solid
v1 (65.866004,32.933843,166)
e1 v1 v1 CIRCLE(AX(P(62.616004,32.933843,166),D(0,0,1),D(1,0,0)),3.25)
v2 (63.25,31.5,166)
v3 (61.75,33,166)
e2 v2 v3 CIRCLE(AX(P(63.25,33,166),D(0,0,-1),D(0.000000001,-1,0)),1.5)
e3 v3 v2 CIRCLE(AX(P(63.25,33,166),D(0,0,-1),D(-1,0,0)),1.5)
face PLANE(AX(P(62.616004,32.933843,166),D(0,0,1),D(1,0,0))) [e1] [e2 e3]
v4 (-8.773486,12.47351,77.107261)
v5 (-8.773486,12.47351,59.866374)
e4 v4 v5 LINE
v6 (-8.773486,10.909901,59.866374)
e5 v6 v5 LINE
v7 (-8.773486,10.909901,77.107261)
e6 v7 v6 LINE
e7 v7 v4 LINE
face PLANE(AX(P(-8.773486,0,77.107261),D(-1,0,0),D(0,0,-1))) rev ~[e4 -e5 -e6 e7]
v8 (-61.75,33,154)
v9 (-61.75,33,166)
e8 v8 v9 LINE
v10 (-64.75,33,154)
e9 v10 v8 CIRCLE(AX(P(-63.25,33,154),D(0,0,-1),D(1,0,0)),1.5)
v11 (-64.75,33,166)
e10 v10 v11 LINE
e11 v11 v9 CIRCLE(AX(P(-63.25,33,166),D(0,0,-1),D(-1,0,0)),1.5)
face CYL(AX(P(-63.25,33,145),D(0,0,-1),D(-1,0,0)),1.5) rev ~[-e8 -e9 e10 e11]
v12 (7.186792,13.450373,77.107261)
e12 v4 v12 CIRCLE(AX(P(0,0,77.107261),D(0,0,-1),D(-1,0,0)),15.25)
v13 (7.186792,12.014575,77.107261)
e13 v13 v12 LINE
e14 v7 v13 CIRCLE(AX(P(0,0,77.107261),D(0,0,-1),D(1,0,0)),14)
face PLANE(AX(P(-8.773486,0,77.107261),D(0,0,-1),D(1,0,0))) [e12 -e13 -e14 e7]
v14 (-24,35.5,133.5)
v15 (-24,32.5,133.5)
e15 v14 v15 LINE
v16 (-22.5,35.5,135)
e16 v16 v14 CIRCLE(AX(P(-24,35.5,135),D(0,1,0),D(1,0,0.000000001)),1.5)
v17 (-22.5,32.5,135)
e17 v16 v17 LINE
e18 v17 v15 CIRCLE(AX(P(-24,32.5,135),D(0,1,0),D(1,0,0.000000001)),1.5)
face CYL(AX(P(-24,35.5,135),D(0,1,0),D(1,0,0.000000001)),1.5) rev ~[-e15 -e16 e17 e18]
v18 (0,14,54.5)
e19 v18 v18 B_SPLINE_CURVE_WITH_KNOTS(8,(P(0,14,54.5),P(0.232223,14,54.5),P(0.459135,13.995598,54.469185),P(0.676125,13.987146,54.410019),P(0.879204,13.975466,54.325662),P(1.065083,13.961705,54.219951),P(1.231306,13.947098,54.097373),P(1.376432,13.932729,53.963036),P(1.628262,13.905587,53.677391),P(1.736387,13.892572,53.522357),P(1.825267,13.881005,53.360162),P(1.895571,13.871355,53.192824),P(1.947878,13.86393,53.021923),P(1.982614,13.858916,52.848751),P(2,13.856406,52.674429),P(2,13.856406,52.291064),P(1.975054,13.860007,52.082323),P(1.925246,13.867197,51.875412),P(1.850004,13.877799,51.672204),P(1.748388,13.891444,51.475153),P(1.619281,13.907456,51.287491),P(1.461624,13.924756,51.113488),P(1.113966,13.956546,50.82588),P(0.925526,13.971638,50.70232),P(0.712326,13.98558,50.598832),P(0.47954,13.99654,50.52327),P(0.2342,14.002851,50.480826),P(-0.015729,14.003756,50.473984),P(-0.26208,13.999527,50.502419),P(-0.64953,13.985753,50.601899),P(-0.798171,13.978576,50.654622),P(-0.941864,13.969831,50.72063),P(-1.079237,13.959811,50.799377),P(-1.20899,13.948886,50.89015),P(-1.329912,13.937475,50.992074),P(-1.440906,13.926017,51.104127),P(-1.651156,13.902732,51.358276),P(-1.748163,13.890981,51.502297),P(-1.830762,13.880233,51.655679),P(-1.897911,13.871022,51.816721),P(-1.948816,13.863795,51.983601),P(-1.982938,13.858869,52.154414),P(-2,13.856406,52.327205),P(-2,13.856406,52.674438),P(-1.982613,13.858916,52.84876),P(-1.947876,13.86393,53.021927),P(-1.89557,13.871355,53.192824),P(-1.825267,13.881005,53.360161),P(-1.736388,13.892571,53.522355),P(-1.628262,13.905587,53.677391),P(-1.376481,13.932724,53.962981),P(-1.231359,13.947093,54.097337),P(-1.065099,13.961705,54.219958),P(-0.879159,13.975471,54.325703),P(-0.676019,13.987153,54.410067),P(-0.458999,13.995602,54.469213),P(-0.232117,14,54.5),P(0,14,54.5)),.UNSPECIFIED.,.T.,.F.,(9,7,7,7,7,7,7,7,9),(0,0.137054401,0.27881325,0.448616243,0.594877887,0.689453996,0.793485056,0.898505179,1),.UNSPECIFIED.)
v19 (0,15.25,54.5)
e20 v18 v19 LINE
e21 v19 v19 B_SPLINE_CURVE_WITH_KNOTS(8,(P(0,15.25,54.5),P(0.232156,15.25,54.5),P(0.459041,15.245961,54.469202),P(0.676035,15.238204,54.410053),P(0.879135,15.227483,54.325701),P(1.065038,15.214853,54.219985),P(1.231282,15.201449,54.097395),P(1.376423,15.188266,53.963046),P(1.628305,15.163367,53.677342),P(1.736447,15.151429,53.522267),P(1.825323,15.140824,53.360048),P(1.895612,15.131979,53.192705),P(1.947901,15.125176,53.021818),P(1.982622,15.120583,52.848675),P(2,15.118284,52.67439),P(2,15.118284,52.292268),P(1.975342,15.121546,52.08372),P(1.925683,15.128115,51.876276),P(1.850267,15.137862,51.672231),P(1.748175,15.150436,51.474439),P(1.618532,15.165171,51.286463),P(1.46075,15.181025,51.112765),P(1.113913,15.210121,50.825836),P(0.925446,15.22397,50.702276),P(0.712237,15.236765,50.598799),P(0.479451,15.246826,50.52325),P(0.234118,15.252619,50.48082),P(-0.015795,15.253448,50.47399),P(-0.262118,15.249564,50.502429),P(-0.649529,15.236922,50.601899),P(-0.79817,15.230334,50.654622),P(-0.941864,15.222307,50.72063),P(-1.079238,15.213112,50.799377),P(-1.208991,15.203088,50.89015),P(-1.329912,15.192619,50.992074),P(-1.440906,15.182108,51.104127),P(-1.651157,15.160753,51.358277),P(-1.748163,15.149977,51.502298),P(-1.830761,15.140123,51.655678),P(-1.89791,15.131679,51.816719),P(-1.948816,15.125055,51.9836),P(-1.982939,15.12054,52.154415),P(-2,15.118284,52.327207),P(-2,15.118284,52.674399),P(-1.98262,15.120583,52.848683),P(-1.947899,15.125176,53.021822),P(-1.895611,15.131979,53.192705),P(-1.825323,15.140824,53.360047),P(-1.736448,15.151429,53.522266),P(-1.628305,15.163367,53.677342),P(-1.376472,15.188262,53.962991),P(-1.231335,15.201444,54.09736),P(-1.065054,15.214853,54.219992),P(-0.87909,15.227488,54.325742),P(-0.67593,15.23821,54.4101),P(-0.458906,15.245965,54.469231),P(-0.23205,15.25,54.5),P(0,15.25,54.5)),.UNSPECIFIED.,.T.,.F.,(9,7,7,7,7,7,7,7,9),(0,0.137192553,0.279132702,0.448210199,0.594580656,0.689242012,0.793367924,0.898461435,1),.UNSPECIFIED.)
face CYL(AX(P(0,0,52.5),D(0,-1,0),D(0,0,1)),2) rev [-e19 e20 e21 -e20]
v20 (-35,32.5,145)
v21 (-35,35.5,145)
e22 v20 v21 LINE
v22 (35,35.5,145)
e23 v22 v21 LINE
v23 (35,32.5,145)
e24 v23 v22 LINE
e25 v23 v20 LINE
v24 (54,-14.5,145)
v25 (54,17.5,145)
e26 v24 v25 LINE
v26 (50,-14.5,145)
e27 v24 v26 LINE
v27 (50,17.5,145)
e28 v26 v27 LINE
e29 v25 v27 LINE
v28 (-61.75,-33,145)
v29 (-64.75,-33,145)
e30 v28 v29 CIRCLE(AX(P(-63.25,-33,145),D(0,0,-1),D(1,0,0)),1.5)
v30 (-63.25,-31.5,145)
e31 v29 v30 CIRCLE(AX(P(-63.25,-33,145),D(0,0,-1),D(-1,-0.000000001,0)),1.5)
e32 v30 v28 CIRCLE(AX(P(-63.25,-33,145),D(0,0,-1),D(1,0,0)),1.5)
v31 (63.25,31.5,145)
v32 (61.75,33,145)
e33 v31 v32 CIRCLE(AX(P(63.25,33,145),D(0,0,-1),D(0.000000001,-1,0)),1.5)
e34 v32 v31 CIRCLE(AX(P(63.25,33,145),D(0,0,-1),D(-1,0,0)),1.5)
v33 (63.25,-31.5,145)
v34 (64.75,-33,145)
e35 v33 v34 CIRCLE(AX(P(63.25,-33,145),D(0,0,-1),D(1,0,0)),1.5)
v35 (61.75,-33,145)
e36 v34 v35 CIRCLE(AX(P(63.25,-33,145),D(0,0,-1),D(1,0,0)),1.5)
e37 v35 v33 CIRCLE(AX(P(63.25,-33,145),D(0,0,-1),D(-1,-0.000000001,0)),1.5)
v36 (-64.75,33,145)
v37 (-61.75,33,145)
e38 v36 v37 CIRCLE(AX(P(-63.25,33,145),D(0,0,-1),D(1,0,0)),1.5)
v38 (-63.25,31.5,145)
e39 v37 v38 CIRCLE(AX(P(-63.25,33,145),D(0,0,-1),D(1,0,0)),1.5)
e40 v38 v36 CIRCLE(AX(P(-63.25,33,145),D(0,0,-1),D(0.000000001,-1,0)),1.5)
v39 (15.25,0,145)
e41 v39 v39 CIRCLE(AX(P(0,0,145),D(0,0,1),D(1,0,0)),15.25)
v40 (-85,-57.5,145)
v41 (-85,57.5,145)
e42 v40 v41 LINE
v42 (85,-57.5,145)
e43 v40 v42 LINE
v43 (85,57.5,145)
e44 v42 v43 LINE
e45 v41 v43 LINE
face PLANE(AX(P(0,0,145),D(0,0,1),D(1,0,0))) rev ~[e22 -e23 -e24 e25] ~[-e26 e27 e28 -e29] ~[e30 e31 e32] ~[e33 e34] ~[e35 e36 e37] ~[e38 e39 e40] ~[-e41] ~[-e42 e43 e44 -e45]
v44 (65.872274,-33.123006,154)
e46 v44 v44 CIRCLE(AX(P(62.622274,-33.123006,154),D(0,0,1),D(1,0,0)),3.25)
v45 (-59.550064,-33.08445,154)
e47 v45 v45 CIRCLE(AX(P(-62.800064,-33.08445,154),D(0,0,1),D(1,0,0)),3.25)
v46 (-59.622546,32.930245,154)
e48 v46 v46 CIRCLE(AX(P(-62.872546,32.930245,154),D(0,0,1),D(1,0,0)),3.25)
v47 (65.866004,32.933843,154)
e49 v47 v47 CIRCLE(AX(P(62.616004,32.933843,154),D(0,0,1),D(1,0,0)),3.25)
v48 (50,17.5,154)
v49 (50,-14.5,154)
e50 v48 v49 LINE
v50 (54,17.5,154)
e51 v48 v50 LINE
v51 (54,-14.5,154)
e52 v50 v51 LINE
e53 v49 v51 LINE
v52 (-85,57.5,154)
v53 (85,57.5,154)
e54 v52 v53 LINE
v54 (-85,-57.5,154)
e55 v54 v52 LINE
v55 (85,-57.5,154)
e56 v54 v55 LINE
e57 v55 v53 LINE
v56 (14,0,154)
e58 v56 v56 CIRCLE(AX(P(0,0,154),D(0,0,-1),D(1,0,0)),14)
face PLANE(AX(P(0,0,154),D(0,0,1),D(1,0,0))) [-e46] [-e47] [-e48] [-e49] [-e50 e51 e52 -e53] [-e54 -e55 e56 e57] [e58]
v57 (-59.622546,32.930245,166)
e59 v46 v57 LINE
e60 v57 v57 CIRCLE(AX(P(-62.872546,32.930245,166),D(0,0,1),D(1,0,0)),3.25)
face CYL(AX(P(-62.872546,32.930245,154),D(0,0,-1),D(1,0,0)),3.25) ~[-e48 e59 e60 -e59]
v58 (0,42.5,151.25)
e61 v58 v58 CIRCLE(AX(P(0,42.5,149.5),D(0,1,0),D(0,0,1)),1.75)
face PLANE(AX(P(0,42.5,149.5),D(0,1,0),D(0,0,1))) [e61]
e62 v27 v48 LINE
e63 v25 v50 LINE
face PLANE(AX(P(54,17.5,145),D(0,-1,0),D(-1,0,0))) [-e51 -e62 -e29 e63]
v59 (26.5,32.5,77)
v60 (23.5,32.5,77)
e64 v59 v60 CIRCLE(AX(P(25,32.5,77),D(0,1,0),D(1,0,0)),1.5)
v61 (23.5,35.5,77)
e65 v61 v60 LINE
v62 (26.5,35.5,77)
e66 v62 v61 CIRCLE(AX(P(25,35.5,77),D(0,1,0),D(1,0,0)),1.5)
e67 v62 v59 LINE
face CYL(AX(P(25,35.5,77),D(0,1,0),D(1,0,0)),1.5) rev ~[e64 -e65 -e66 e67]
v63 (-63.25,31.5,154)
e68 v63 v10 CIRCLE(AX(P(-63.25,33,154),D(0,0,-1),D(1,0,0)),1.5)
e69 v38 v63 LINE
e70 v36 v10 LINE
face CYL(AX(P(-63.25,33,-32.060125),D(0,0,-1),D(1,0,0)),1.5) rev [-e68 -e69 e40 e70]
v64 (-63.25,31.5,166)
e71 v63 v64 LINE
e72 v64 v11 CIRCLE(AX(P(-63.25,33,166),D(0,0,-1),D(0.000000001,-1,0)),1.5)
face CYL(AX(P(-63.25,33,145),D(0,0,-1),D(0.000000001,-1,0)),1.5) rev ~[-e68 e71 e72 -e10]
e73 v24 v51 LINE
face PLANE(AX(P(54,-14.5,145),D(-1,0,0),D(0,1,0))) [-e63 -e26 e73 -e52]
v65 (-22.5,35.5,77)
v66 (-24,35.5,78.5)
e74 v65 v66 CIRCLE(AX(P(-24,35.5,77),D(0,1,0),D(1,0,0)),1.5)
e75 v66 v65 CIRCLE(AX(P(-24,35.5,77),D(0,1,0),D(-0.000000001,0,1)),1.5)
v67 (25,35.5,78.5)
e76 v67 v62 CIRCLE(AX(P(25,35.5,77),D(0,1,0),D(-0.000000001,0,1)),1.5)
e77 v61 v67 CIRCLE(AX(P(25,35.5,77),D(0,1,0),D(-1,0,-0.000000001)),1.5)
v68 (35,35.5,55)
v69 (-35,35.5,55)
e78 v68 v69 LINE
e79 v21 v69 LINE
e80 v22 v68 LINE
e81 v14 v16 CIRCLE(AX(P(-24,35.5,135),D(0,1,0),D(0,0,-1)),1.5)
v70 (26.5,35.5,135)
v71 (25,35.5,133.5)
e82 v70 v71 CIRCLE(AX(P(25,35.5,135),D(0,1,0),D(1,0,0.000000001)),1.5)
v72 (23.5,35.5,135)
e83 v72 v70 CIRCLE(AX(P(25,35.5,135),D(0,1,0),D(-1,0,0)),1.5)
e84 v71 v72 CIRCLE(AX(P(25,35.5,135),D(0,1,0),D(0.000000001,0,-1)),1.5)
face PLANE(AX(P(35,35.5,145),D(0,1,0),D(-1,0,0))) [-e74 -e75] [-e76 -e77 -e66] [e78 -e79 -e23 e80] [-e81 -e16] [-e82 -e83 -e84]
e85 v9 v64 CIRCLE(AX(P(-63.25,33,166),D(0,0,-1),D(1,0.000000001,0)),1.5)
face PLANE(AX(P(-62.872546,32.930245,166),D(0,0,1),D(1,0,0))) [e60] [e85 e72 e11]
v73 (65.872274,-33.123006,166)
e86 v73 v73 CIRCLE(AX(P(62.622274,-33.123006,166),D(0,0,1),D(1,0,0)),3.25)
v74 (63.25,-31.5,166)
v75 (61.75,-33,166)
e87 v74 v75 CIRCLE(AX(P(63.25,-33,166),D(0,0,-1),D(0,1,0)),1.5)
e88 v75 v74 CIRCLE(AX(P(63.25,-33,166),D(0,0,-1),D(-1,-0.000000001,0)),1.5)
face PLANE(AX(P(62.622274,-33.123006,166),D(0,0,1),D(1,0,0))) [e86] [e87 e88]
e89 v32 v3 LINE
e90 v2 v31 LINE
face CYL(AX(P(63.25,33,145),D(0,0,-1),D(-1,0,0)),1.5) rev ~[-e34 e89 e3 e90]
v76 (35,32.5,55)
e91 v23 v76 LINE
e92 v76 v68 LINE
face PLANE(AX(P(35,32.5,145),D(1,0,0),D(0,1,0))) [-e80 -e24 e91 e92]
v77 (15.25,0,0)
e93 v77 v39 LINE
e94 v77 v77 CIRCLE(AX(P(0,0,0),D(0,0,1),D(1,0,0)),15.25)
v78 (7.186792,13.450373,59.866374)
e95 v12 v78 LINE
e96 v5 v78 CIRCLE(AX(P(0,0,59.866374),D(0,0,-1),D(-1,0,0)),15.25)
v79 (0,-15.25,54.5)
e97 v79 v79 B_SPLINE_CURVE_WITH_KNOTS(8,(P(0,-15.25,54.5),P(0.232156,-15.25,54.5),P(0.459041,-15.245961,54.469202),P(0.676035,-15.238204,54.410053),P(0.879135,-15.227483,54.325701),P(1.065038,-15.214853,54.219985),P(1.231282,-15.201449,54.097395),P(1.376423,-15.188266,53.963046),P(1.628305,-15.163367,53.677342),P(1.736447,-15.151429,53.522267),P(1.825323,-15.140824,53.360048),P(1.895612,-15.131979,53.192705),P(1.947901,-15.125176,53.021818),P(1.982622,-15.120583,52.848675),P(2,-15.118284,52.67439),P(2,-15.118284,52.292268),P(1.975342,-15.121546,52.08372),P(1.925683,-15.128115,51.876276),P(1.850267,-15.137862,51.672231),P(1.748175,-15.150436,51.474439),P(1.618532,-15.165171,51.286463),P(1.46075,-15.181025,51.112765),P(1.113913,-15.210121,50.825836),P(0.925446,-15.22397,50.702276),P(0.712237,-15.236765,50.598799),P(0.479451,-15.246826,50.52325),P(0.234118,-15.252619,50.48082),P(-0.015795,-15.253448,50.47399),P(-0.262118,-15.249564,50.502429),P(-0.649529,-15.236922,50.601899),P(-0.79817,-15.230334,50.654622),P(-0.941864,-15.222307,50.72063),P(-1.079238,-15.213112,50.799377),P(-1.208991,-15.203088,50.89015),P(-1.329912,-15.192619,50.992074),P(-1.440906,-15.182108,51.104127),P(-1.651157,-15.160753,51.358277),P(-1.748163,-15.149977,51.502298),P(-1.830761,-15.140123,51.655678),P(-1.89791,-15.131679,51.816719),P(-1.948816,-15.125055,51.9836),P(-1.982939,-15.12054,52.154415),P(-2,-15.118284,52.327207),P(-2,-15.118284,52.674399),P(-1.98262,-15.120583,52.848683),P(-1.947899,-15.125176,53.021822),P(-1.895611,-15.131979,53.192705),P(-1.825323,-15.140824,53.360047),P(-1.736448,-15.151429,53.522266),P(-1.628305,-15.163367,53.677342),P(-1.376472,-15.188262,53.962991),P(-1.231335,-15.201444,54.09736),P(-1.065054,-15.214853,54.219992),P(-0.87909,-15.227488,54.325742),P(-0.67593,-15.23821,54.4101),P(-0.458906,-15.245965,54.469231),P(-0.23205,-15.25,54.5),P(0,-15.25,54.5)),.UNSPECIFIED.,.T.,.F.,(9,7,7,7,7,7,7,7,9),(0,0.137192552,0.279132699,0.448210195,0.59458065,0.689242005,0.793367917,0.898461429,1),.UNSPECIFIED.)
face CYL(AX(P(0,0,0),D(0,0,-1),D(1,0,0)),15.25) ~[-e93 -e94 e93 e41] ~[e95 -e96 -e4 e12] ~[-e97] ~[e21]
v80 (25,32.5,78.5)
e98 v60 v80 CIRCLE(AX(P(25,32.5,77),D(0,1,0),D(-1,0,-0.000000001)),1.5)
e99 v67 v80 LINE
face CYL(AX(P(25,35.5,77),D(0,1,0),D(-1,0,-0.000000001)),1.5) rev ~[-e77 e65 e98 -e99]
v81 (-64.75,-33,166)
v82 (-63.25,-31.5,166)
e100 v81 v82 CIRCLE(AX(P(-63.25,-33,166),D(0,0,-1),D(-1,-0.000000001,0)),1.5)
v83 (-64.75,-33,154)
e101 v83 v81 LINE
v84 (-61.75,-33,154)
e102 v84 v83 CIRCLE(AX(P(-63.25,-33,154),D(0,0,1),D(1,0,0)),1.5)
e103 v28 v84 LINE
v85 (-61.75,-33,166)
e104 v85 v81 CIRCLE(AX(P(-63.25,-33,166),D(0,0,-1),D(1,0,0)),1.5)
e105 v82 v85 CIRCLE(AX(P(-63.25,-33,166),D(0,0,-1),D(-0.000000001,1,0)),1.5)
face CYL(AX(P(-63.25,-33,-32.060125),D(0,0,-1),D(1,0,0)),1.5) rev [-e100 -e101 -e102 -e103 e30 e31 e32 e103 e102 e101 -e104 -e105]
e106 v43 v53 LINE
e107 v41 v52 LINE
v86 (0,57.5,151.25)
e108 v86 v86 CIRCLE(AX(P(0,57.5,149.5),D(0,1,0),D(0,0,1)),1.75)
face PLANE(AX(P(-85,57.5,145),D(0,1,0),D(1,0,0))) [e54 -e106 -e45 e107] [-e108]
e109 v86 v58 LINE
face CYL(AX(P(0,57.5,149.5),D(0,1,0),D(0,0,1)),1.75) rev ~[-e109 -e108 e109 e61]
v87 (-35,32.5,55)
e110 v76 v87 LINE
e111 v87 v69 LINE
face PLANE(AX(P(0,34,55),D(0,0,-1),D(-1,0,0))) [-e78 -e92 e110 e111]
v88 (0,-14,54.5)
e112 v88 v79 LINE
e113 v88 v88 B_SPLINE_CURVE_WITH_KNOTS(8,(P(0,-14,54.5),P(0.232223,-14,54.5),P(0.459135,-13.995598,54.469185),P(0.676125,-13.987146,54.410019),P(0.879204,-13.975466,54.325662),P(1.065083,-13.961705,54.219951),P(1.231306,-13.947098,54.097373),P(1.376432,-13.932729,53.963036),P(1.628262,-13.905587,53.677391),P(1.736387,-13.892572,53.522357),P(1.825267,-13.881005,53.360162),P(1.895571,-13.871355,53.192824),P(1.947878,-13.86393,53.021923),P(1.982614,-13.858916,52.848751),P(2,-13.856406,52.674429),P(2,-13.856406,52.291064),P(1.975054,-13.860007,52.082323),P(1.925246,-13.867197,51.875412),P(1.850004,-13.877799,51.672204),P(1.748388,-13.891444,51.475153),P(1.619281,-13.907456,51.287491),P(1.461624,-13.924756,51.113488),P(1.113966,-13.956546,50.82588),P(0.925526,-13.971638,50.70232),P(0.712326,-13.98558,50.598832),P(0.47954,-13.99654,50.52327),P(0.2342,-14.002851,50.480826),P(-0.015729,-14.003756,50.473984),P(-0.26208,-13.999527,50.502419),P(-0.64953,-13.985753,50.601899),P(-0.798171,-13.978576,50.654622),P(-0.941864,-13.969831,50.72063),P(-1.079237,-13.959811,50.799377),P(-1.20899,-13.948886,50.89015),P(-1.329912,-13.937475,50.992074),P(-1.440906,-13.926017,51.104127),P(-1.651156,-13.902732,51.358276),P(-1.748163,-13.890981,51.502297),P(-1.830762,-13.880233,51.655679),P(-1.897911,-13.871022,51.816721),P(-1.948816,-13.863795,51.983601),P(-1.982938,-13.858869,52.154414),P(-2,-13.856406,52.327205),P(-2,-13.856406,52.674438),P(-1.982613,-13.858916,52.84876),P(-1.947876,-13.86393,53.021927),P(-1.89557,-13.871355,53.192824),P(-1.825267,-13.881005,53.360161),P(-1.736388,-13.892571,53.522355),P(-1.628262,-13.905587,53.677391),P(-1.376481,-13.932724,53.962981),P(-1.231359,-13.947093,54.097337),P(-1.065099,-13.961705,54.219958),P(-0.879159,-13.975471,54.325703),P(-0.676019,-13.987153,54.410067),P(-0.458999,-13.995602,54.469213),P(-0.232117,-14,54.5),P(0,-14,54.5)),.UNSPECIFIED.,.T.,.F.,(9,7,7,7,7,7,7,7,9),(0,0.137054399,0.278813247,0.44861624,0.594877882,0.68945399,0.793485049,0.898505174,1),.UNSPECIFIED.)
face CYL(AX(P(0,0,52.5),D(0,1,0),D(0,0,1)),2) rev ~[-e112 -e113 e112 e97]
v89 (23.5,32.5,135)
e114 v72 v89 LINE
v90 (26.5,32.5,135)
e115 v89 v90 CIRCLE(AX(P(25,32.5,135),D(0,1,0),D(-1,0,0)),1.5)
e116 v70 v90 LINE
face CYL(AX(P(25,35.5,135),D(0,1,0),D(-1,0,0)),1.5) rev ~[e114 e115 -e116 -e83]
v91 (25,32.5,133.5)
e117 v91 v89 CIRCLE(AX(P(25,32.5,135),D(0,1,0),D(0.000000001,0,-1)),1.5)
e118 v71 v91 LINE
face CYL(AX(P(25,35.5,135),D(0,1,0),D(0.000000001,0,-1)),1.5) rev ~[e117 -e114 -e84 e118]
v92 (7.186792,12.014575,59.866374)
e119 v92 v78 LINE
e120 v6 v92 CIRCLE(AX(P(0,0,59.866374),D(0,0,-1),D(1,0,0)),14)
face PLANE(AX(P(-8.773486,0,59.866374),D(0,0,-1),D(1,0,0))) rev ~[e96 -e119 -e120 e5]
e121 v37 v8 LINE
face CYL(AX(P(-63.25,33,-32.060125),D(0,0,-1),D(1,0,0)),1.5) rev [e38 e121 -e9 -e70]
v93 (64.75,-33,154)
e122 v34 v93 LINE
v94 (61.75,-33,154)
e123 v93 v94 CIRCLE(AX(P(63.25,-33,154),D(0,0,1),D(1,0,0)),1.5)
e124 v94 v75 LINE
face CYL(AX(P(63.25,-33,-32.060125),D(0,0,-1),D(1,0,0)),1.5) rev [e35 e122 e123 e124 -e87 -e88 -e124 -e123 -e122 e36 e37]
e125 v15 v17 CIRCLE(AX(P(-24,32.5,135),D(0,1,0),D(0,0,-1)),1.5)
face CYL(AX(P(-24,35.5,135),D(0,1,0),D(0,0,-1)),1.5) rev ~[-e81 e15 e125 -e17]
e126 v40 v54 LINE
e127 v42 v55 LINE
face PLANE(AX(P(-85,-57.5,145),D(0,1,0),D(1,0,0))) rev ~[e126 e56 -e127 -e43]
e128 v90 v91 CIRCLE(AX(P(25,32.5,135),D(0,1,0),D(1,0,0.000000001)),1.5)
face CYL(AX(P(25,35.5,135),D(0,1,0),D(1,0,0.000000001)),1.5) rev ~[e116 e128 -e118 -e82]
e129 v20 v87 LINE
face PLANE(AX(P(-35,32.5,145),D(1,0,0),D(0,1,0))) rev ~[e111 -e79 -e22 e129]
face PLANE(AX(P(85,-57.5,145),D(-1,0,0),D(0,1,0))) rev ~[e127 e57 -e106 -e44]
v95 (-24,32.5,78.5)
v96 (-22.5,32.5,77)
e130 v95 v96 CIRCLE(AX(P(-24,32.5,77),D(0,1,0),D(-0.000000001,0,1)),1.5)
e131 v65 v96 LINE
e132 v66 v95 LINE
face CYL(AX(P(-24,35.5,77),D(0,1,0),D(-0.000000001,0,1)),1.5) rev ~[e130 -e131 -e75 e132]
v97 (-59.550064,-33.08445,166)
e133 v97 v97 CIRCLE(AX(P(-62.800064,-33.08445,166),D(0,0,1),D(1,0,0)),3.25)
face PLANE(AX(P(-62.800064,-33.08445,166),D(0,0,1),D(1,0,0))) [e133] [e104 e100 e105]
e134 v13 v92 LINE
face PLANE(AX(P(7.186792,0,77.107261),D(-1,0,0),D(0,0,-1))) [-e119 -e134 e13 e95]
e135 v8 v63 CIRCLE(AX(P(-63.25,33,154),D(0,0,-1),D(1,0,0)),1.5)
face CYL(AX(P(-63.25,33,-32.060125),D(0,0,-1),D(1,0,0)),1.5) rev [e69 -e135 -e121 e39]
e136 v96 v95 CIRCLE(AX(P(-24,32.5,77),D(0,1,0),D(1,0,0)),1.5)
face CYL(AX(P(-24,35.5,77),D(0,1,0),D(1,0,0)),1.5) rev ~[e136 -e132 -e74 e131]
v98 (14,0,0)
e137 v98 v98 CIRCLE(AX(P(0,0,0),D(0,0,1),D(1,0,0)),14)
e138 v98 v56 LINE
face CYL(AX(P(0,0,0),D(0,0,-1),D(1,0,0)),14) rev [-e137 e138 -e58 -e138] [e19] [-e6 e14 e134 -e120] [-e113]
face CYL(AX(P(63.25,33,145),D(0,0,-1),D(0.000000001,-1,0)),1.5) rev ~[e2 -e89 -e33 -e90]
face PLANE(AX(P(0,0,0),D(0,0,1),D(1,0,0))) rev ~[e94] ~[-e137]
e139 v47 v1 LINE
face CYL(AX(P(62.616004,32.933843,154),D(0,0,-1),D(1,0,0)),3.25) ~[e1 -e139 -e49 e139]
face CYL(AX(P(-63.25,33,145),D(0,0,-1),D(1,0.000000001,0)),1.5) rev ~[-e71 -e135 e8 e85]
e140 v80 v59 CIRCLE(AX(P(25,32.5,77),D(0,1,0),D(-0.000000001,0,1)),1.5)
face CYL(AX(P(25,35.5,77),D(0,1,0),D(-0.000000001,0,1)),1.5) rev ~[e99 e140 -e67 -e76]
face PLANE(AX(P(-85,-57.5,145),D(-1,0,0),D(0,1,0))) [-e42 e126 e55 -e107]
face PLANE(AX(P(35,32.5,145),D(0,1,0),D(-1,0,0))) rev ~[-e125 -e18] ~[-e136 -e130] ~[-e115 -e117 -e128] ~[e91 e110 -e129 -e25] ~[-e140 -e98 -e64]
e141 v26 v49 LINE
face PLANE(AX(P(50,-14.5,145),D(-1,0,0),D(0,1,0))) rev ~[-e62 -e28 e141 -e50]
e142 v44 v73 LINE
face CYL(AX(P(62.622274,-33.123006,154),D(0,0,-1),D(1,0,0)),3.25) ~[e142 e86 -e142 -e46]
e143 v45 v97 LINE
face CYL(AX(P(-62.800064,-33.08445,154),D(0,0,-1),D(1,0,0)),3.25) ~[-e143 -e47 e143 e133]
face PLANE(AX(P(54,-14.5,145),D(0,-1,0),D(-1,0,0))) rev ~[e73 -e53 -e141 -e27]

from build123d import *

# Parameters (mm, degrees)
ESQUISSE1_R                         = 15.25
ESQUISSE1_R_2                       = 13.5
BOSS_EXTRU_1_DEPTH                  = 145
ENL_V_MAT_EXTRU_1_REACH             = 148.595
ESQUISSE4_R                         = 2
ENL_V_MAT_EXTRU_1_DIRECTION_2_DEPTH = 147.595105648
ESQUISSE5_W                         = 170
ESQUISSE5_H                         = 115
BOSS_EXTRU_2_DEPTH                  = 9
ESQUISSE14_R                        = 14
ENL_V_MAT_EXTRU_2_DEPTH             = 186.060125365
ENL_V_MAT_EXTRU_3_DEPTH             = 186.060125448
ENL_V_MAT_EXTRU_3_DEPTH_BACK        = 186.060125448
ESQUISSE15_R                        = 1.5
ESQUISSE16_R                        = 1.75
ENL_V_MAT_EXTRU_4_DEPTH             = 15
ESQUISSE22_W                        = 70
ESQUISSE22_H                        = 3
BOSS_EXTRU_11_DEPTH                 = 90
ENL_V_MAT_EXTRU_6_DEPTH             = 90
ESQUISSE25_W                        = 4
ESQUISSE25_H                        = 32
ENL_V_MAT_EXTRU_7_DEPTH             = 90
ENL_V_MAT_EXTRU_8_REACH             = 187.06
ENL_V_MAT_EXTRU_8_END_RADIUS        = 15.25
ESQUISSE26_W                        = 15.960277927
ESQUISSE26_H                        = 17.240886996
ESQUISSE27_R                        = 3.25
BOSS_EXTRU_12_DEPTH                 = 12
ENL_V_MAT_EXTRU_9_DEPTH             = 178.640789317


with BuildPart() as part:
    # Esquisse1 → Boss.-Extru.1 (new body)
    with BuildSketch(Plane.XY):
        Circle(ESQUISSE1_R)
        Circle(ESQUISSE1_R_2, mode=Mode.SUBTRACT)
    extrude(amount=BOSS_EXTRU_1_DEPTH)

    # Esquisse4 → Enlèv. mat.-Extru.1 (cut, up to next)
    with BuildSketch(Plane(origin=(0, 0, 0), x_dir=(1, 0, 0), z_dir=(0, 1, 0)), mode=Mode.PRIVATE) as enl_v_mat_extru_1_sk1:
        with Locations(Location((0, -52.5, 0), (0, 0, 270))):
            Circle(ESQUISSE4_R)
    enl_v_mat_extru_1_tool1 = extrude(enl_v_mat_extru_1_sk1.sketch, amount=-ENL_V_MAT_EXTRU_1_REACH, mode=Mode.PRIVATE) & part.part
    add(enl_v_mat_extru_1_tool1.solids().sort_by_distance((0, 0, 52.5))[0], mode=Mode.SUBTRACT)

    # Esquisse4 → Enlèv. mat.-Extru.1 direction 2 (cut)
    with BuildSketch(Plane(origin=(0, 0, 0), x_dir=(1, 0, 0), z_dir=(0, 1, 0))):
        with Locations(Location((0, -52.5, 0), (0, 0, 270))):
            Circle(ESQUISSE4_R)
    extrude(amount=ENL_V_MAT_EXTRU_1_DIRECTION_2_DEPTH, mode=Mode.SUBTRACT)

    # Esquisse5 → Boss.-Extru.2 (add)
    with BuildSketch(Plane.XY.offset(145)):
        Rectangle(ESQUISSE5_W, ESQUISSE5_H)
    extrude(amount=BOSS_EXTRU_2_DEPTH)

    # Esquisse14 → Enlèv. mat.-Extru.2 (cut, through all)
    with BuildSketch(Plane.XY):
        Circle(ESQUISSE14_R)
    extrude(amount=ENL_V_MAT_EXTRU_2_DEPTH, mode=Mode.SUBTRACT)

    # Esquisse15 → Enlèv. mat.-Extru.3 (cut, two sides: drawn at the far end of the back side and taken through both)
    with BuildSketch(Plane.XY.offset(154).offset(-ENL_V_MAT_EXTRU_3_DEPTH_BACK)):
        with Locations((-63.25, 33)):
            Circle(ESQUISSE15_R)
        with Locations((63.25, 33)):
            Circle(ESQUISSE15_R)
        with Locations((63.25, -33)):
            Circle(ESQUISSE15_R)
        with Locations((-63.25, -33)):
            Circle(ESQUISSE15_R)
    extrude(amount=ENL_V_MAT_EXTRU_3_DEPTH + ENL_V_MAT_EXTRU_3_DEPTH_BACK, mode=Mode.SUBTRACT)

    # Esquisse16 → Enlèv. mat.-Extru.4 (cut)
    with BuildSketch(Plane(origin=(0, 57.5, 0), x_dir=(1, 0, 0), z_dir=(0, 1, 0))):
        with Locations(Location((0, -149.5, 0), (0, 0, 270))):
            Circle(ESQUISSE16_R)
    extrude(amount=-ENL_V_MAT_EXTRU_4_DEPTH, mode=Mode.SUBTRACT)

    # Esquisse22 → Boss.-Extru.11 (add)
    with BuildSketch(Plane(origin=(0, 0, 145), x_dir=(-1, 0, 0), z_dir=(0, 0, -1))):
        with Locations((0, 34)):
            Rectangle(ESQUISSE22_W, ESQUISSE22_H)
    extrude(amount=BOSS_EXTRU_11_DEPTH)

    # Esquisse23 → Enlèv. mat.-Extru.6 (cut)
    with BuildSketch(Plane(origin=(0, 35.5, 0), x_dir=(1, 0, 0), z_dir=(0, 1, 0))):
        with BuildLine():
            ThreePointArc((26.5, -135), (26.060660172, -133.939339828), (25, -133.5))
            Line((25, -133.5), (25, -135))
            Line((25, -135), (23.5, -135))
            ThreePointArc((23.5, -135), (25, -136.5), (26.5, -135))
        make_face()
        with BuildLine():
            Line((25, -135), (25, -133.5))
            ThreePointArc((25, -133.5), (23.939339828, -133.939339828), (23.5, -135))
            Line((23.5, -135), (25, -135))
        make_face()
        with BuildLine():
            ThreePointArc((-22.5, -135), (-22.939339828, -133.939339828), (-24, -133.5))
            Line((-24, -133.5), (-24, -135))
            Line((-24, -135), (-22.5, -135))
        make_face()
        with BuildLine():
            Line((-24, -135), (-24, -133.5))
            ThreePointArc((-24, -133.5), (-25.060660172, -136.060660172), (-22.5, -135))
            Line((-22.5, -135), (-24, -135))
        make_face()
        with BuildLine():
            ThreePointArc((26.5, -77), (25, -75.5), (23.5, -77))
            Line((23.5, -77), (25, -77))
            Line((25, -77), (25, -78.5))
            ThreePointArc((25, -78.5), (26.060660172, -78.060660172), (26.5, -77))
        make_face()
        with BuildLine():
            Line((25, -77), (23.5, -77))
            ThreePointArc((23.5, -77), (23.939339828, -78.060660172), (25, -78.5))
            Line((25, -78.5), (25, -77))
        make_face()
        with BuildLine():
            ThreePointArc((-24, -78.5), (-22.939339828, -78.060660172), (-22.5, -77))
            Line((-22.5, -77), (-24, -77))
            Line((-24, -77), (-24, -78.5))
        make_face()
        with BuildLine():
            Line((-24, -77), (-22.5, -77))
            ThreePointArc((-22.5, -77), (-25.060660172, -75.939339828), (-24, -78.5))
            Line((-24, -78.5), (-24, -77))
        make_face()
    extrude(amount=-ENL_V_MAT_EXTRU_6_DEPTH, mode=Mode.SUBTRACT)

    # Esquisse25 → Enlèv. mat.-Extru.7 (cut)
    with BuildSketch(Plane(origin=(0, 0, 145), x_dir=(-1, 0, 0), z_dir=(0, 0, -1))):
        with Locations((-52, 1.5)):
            Rectangle(ESQUISSE25_W, ESQUISSE25_H)
    extrude(amount=-ENL_V_MAT_EXTRU_7_DEPTH, mode=Mode.SUBTRACT)

    # Enlèv. mat.-Extru.8: up to this cylinder (the profile starts inside it)
    enl_v_mat_extru_8_end = Plane(origin=(0, 0, 68.486818), z_dir=(0, 0, -1)) * Cylinder(ENL_V_MAT_EXTRU_8_END_RADIUS, 405.62, mode=Mode.PRIVATE)
    # Esquisse26 → Enlèv. mat.-Extru.8 (cut, up to the surface)
    with BuildSketch(Plane(origin=(0, 0, 0), x_dir=(1, 0, 0), z_dir=(0, 1, 0)), mode=Mode.PRIVATE) as enl_v_mat_extru_8_sk1:
        with Locations((-0.793346945, -68.486817672)):
            Rectangle(ESQUISSE26_W, ESQUISSE26_H)
    enl_v_mat_extru_8_tool1 = extrude(enl_v_mat_extru_8_sk1.sketch, amount=ENL_V_MAT_EXTRU_8_REACH, mode=Mode.PRIVATE) & enl_v_mat_extru_8_end
    add(enl_v_mat_extru_8_tool1.solids().sort_by_distance((-0.793347, 0, 68.486818))[0], mode=Mode.SUBTRACT)

    # Esquisse27 → Boss.-Extru.12 (add)
    with BuildSketch(Plane.XY.offset(154)):
        with Locations((62.616003653, 32.933842855)):
            Circle(ESQUISSE27_R)
        with Locations((62.622273681, -33.123005587)):
            Circle(ESQUISSE27_R)
        with Locations((-62.800064313, -33.084450181)):
            Circle(ESQUISSE27_R)
        with Locations((-62.872546265, 32.930245113)):
            Circle(ESQUISSE27_R)
    extrude(amount=BOSS_EXTRU_12_DEPTH)

    # Esquisse29 → Enlèv. mat.-Extru.9 (cut, through all)
    with BuildSketch(Plane(origin=(0, 0, 145), x_dir=(-1, 0, 0), z_dir=(0, 0, -1))):
        with BuildLine():
            ThreePointArc((64.75, 33), (63.25, 34.5), (61.75, 33))
            Line((61.75, 33), (63.25, 33))
            Line((63.25, 33), (63.25, 31.5))
            ThreePointArc((63.25, 31.5), (64.310660172, 31.939339828), (64.75, 33))
        make_face()
        with BuildLine():
            Line((63.25, 33), (61.75, 33))
            ThreePointArc((61.75, 33), (62.189339828, 31.939339828), (63.25, 31.5))
            Line((63.25, 31.5), (63.25, 33))
        make_face()
        with BuildLine():
            ThreePointArc((64.75, -33), (64.310660172, -31.939339828), (63.25, -31.5))
            Line((63.25, -31.5), (63.25, -33))
            Line((63.25, -33), (61.75, -33))
            ThreePointArc((61.75, -33), (63.25, -34.5), (64.75, -33))
        make_face()
        with BuildLine():
            Line((63.25, -33), (63.25, -31.5))
            ThreePointArc((63.25, -31.5), (62.189339828, -31.939339828), (61.75, -33))
            Line((61.75, -33), (63.25, -33))
        make_face()
        with BuildLine():
            Line((-63.25, 31.5), (-63.25, 33))
            Line((-63.25, 33), (-61.75, 33))
            ThreePointArc((-61.75, 33), (-64.310660172, 34.060660172), (-63.25, 31.5))
        make_face()
        with BuildLine():
            Line((-61.75, 33), (-63.25, 33))
            Line((-63.25, 33), (-63.25, 31.5))
            ThreePointArc((-63.25, 31.5), (-62.189339828, 31.939339828), (-61.75, 33))
        make_face()
        with BuildLine():
            ThreePointArc((-61.75, -33), (-62.189339828, -31.939339828), (-63.25, -31.5))
            Line((-63.25, -31.5), (-63.25, -33))
            Line((-63.25, -33), (-61.75, -33))
        make_face()
        with BuildLine():
            Line((-63.25, -33), (-63.25, -31.5))
            ThreePointArc((-63.25, -31.5), (-64.310660172, -34.060660172), (-61.75, -33))
            Line((-61.75, -33), (-63.25, -33))
        make_face()
    extrude(amount=-ENL_V_MAT_EXTRU_9_DEPTH, mode=Mode.SUBTRACT)


solid = part.part
